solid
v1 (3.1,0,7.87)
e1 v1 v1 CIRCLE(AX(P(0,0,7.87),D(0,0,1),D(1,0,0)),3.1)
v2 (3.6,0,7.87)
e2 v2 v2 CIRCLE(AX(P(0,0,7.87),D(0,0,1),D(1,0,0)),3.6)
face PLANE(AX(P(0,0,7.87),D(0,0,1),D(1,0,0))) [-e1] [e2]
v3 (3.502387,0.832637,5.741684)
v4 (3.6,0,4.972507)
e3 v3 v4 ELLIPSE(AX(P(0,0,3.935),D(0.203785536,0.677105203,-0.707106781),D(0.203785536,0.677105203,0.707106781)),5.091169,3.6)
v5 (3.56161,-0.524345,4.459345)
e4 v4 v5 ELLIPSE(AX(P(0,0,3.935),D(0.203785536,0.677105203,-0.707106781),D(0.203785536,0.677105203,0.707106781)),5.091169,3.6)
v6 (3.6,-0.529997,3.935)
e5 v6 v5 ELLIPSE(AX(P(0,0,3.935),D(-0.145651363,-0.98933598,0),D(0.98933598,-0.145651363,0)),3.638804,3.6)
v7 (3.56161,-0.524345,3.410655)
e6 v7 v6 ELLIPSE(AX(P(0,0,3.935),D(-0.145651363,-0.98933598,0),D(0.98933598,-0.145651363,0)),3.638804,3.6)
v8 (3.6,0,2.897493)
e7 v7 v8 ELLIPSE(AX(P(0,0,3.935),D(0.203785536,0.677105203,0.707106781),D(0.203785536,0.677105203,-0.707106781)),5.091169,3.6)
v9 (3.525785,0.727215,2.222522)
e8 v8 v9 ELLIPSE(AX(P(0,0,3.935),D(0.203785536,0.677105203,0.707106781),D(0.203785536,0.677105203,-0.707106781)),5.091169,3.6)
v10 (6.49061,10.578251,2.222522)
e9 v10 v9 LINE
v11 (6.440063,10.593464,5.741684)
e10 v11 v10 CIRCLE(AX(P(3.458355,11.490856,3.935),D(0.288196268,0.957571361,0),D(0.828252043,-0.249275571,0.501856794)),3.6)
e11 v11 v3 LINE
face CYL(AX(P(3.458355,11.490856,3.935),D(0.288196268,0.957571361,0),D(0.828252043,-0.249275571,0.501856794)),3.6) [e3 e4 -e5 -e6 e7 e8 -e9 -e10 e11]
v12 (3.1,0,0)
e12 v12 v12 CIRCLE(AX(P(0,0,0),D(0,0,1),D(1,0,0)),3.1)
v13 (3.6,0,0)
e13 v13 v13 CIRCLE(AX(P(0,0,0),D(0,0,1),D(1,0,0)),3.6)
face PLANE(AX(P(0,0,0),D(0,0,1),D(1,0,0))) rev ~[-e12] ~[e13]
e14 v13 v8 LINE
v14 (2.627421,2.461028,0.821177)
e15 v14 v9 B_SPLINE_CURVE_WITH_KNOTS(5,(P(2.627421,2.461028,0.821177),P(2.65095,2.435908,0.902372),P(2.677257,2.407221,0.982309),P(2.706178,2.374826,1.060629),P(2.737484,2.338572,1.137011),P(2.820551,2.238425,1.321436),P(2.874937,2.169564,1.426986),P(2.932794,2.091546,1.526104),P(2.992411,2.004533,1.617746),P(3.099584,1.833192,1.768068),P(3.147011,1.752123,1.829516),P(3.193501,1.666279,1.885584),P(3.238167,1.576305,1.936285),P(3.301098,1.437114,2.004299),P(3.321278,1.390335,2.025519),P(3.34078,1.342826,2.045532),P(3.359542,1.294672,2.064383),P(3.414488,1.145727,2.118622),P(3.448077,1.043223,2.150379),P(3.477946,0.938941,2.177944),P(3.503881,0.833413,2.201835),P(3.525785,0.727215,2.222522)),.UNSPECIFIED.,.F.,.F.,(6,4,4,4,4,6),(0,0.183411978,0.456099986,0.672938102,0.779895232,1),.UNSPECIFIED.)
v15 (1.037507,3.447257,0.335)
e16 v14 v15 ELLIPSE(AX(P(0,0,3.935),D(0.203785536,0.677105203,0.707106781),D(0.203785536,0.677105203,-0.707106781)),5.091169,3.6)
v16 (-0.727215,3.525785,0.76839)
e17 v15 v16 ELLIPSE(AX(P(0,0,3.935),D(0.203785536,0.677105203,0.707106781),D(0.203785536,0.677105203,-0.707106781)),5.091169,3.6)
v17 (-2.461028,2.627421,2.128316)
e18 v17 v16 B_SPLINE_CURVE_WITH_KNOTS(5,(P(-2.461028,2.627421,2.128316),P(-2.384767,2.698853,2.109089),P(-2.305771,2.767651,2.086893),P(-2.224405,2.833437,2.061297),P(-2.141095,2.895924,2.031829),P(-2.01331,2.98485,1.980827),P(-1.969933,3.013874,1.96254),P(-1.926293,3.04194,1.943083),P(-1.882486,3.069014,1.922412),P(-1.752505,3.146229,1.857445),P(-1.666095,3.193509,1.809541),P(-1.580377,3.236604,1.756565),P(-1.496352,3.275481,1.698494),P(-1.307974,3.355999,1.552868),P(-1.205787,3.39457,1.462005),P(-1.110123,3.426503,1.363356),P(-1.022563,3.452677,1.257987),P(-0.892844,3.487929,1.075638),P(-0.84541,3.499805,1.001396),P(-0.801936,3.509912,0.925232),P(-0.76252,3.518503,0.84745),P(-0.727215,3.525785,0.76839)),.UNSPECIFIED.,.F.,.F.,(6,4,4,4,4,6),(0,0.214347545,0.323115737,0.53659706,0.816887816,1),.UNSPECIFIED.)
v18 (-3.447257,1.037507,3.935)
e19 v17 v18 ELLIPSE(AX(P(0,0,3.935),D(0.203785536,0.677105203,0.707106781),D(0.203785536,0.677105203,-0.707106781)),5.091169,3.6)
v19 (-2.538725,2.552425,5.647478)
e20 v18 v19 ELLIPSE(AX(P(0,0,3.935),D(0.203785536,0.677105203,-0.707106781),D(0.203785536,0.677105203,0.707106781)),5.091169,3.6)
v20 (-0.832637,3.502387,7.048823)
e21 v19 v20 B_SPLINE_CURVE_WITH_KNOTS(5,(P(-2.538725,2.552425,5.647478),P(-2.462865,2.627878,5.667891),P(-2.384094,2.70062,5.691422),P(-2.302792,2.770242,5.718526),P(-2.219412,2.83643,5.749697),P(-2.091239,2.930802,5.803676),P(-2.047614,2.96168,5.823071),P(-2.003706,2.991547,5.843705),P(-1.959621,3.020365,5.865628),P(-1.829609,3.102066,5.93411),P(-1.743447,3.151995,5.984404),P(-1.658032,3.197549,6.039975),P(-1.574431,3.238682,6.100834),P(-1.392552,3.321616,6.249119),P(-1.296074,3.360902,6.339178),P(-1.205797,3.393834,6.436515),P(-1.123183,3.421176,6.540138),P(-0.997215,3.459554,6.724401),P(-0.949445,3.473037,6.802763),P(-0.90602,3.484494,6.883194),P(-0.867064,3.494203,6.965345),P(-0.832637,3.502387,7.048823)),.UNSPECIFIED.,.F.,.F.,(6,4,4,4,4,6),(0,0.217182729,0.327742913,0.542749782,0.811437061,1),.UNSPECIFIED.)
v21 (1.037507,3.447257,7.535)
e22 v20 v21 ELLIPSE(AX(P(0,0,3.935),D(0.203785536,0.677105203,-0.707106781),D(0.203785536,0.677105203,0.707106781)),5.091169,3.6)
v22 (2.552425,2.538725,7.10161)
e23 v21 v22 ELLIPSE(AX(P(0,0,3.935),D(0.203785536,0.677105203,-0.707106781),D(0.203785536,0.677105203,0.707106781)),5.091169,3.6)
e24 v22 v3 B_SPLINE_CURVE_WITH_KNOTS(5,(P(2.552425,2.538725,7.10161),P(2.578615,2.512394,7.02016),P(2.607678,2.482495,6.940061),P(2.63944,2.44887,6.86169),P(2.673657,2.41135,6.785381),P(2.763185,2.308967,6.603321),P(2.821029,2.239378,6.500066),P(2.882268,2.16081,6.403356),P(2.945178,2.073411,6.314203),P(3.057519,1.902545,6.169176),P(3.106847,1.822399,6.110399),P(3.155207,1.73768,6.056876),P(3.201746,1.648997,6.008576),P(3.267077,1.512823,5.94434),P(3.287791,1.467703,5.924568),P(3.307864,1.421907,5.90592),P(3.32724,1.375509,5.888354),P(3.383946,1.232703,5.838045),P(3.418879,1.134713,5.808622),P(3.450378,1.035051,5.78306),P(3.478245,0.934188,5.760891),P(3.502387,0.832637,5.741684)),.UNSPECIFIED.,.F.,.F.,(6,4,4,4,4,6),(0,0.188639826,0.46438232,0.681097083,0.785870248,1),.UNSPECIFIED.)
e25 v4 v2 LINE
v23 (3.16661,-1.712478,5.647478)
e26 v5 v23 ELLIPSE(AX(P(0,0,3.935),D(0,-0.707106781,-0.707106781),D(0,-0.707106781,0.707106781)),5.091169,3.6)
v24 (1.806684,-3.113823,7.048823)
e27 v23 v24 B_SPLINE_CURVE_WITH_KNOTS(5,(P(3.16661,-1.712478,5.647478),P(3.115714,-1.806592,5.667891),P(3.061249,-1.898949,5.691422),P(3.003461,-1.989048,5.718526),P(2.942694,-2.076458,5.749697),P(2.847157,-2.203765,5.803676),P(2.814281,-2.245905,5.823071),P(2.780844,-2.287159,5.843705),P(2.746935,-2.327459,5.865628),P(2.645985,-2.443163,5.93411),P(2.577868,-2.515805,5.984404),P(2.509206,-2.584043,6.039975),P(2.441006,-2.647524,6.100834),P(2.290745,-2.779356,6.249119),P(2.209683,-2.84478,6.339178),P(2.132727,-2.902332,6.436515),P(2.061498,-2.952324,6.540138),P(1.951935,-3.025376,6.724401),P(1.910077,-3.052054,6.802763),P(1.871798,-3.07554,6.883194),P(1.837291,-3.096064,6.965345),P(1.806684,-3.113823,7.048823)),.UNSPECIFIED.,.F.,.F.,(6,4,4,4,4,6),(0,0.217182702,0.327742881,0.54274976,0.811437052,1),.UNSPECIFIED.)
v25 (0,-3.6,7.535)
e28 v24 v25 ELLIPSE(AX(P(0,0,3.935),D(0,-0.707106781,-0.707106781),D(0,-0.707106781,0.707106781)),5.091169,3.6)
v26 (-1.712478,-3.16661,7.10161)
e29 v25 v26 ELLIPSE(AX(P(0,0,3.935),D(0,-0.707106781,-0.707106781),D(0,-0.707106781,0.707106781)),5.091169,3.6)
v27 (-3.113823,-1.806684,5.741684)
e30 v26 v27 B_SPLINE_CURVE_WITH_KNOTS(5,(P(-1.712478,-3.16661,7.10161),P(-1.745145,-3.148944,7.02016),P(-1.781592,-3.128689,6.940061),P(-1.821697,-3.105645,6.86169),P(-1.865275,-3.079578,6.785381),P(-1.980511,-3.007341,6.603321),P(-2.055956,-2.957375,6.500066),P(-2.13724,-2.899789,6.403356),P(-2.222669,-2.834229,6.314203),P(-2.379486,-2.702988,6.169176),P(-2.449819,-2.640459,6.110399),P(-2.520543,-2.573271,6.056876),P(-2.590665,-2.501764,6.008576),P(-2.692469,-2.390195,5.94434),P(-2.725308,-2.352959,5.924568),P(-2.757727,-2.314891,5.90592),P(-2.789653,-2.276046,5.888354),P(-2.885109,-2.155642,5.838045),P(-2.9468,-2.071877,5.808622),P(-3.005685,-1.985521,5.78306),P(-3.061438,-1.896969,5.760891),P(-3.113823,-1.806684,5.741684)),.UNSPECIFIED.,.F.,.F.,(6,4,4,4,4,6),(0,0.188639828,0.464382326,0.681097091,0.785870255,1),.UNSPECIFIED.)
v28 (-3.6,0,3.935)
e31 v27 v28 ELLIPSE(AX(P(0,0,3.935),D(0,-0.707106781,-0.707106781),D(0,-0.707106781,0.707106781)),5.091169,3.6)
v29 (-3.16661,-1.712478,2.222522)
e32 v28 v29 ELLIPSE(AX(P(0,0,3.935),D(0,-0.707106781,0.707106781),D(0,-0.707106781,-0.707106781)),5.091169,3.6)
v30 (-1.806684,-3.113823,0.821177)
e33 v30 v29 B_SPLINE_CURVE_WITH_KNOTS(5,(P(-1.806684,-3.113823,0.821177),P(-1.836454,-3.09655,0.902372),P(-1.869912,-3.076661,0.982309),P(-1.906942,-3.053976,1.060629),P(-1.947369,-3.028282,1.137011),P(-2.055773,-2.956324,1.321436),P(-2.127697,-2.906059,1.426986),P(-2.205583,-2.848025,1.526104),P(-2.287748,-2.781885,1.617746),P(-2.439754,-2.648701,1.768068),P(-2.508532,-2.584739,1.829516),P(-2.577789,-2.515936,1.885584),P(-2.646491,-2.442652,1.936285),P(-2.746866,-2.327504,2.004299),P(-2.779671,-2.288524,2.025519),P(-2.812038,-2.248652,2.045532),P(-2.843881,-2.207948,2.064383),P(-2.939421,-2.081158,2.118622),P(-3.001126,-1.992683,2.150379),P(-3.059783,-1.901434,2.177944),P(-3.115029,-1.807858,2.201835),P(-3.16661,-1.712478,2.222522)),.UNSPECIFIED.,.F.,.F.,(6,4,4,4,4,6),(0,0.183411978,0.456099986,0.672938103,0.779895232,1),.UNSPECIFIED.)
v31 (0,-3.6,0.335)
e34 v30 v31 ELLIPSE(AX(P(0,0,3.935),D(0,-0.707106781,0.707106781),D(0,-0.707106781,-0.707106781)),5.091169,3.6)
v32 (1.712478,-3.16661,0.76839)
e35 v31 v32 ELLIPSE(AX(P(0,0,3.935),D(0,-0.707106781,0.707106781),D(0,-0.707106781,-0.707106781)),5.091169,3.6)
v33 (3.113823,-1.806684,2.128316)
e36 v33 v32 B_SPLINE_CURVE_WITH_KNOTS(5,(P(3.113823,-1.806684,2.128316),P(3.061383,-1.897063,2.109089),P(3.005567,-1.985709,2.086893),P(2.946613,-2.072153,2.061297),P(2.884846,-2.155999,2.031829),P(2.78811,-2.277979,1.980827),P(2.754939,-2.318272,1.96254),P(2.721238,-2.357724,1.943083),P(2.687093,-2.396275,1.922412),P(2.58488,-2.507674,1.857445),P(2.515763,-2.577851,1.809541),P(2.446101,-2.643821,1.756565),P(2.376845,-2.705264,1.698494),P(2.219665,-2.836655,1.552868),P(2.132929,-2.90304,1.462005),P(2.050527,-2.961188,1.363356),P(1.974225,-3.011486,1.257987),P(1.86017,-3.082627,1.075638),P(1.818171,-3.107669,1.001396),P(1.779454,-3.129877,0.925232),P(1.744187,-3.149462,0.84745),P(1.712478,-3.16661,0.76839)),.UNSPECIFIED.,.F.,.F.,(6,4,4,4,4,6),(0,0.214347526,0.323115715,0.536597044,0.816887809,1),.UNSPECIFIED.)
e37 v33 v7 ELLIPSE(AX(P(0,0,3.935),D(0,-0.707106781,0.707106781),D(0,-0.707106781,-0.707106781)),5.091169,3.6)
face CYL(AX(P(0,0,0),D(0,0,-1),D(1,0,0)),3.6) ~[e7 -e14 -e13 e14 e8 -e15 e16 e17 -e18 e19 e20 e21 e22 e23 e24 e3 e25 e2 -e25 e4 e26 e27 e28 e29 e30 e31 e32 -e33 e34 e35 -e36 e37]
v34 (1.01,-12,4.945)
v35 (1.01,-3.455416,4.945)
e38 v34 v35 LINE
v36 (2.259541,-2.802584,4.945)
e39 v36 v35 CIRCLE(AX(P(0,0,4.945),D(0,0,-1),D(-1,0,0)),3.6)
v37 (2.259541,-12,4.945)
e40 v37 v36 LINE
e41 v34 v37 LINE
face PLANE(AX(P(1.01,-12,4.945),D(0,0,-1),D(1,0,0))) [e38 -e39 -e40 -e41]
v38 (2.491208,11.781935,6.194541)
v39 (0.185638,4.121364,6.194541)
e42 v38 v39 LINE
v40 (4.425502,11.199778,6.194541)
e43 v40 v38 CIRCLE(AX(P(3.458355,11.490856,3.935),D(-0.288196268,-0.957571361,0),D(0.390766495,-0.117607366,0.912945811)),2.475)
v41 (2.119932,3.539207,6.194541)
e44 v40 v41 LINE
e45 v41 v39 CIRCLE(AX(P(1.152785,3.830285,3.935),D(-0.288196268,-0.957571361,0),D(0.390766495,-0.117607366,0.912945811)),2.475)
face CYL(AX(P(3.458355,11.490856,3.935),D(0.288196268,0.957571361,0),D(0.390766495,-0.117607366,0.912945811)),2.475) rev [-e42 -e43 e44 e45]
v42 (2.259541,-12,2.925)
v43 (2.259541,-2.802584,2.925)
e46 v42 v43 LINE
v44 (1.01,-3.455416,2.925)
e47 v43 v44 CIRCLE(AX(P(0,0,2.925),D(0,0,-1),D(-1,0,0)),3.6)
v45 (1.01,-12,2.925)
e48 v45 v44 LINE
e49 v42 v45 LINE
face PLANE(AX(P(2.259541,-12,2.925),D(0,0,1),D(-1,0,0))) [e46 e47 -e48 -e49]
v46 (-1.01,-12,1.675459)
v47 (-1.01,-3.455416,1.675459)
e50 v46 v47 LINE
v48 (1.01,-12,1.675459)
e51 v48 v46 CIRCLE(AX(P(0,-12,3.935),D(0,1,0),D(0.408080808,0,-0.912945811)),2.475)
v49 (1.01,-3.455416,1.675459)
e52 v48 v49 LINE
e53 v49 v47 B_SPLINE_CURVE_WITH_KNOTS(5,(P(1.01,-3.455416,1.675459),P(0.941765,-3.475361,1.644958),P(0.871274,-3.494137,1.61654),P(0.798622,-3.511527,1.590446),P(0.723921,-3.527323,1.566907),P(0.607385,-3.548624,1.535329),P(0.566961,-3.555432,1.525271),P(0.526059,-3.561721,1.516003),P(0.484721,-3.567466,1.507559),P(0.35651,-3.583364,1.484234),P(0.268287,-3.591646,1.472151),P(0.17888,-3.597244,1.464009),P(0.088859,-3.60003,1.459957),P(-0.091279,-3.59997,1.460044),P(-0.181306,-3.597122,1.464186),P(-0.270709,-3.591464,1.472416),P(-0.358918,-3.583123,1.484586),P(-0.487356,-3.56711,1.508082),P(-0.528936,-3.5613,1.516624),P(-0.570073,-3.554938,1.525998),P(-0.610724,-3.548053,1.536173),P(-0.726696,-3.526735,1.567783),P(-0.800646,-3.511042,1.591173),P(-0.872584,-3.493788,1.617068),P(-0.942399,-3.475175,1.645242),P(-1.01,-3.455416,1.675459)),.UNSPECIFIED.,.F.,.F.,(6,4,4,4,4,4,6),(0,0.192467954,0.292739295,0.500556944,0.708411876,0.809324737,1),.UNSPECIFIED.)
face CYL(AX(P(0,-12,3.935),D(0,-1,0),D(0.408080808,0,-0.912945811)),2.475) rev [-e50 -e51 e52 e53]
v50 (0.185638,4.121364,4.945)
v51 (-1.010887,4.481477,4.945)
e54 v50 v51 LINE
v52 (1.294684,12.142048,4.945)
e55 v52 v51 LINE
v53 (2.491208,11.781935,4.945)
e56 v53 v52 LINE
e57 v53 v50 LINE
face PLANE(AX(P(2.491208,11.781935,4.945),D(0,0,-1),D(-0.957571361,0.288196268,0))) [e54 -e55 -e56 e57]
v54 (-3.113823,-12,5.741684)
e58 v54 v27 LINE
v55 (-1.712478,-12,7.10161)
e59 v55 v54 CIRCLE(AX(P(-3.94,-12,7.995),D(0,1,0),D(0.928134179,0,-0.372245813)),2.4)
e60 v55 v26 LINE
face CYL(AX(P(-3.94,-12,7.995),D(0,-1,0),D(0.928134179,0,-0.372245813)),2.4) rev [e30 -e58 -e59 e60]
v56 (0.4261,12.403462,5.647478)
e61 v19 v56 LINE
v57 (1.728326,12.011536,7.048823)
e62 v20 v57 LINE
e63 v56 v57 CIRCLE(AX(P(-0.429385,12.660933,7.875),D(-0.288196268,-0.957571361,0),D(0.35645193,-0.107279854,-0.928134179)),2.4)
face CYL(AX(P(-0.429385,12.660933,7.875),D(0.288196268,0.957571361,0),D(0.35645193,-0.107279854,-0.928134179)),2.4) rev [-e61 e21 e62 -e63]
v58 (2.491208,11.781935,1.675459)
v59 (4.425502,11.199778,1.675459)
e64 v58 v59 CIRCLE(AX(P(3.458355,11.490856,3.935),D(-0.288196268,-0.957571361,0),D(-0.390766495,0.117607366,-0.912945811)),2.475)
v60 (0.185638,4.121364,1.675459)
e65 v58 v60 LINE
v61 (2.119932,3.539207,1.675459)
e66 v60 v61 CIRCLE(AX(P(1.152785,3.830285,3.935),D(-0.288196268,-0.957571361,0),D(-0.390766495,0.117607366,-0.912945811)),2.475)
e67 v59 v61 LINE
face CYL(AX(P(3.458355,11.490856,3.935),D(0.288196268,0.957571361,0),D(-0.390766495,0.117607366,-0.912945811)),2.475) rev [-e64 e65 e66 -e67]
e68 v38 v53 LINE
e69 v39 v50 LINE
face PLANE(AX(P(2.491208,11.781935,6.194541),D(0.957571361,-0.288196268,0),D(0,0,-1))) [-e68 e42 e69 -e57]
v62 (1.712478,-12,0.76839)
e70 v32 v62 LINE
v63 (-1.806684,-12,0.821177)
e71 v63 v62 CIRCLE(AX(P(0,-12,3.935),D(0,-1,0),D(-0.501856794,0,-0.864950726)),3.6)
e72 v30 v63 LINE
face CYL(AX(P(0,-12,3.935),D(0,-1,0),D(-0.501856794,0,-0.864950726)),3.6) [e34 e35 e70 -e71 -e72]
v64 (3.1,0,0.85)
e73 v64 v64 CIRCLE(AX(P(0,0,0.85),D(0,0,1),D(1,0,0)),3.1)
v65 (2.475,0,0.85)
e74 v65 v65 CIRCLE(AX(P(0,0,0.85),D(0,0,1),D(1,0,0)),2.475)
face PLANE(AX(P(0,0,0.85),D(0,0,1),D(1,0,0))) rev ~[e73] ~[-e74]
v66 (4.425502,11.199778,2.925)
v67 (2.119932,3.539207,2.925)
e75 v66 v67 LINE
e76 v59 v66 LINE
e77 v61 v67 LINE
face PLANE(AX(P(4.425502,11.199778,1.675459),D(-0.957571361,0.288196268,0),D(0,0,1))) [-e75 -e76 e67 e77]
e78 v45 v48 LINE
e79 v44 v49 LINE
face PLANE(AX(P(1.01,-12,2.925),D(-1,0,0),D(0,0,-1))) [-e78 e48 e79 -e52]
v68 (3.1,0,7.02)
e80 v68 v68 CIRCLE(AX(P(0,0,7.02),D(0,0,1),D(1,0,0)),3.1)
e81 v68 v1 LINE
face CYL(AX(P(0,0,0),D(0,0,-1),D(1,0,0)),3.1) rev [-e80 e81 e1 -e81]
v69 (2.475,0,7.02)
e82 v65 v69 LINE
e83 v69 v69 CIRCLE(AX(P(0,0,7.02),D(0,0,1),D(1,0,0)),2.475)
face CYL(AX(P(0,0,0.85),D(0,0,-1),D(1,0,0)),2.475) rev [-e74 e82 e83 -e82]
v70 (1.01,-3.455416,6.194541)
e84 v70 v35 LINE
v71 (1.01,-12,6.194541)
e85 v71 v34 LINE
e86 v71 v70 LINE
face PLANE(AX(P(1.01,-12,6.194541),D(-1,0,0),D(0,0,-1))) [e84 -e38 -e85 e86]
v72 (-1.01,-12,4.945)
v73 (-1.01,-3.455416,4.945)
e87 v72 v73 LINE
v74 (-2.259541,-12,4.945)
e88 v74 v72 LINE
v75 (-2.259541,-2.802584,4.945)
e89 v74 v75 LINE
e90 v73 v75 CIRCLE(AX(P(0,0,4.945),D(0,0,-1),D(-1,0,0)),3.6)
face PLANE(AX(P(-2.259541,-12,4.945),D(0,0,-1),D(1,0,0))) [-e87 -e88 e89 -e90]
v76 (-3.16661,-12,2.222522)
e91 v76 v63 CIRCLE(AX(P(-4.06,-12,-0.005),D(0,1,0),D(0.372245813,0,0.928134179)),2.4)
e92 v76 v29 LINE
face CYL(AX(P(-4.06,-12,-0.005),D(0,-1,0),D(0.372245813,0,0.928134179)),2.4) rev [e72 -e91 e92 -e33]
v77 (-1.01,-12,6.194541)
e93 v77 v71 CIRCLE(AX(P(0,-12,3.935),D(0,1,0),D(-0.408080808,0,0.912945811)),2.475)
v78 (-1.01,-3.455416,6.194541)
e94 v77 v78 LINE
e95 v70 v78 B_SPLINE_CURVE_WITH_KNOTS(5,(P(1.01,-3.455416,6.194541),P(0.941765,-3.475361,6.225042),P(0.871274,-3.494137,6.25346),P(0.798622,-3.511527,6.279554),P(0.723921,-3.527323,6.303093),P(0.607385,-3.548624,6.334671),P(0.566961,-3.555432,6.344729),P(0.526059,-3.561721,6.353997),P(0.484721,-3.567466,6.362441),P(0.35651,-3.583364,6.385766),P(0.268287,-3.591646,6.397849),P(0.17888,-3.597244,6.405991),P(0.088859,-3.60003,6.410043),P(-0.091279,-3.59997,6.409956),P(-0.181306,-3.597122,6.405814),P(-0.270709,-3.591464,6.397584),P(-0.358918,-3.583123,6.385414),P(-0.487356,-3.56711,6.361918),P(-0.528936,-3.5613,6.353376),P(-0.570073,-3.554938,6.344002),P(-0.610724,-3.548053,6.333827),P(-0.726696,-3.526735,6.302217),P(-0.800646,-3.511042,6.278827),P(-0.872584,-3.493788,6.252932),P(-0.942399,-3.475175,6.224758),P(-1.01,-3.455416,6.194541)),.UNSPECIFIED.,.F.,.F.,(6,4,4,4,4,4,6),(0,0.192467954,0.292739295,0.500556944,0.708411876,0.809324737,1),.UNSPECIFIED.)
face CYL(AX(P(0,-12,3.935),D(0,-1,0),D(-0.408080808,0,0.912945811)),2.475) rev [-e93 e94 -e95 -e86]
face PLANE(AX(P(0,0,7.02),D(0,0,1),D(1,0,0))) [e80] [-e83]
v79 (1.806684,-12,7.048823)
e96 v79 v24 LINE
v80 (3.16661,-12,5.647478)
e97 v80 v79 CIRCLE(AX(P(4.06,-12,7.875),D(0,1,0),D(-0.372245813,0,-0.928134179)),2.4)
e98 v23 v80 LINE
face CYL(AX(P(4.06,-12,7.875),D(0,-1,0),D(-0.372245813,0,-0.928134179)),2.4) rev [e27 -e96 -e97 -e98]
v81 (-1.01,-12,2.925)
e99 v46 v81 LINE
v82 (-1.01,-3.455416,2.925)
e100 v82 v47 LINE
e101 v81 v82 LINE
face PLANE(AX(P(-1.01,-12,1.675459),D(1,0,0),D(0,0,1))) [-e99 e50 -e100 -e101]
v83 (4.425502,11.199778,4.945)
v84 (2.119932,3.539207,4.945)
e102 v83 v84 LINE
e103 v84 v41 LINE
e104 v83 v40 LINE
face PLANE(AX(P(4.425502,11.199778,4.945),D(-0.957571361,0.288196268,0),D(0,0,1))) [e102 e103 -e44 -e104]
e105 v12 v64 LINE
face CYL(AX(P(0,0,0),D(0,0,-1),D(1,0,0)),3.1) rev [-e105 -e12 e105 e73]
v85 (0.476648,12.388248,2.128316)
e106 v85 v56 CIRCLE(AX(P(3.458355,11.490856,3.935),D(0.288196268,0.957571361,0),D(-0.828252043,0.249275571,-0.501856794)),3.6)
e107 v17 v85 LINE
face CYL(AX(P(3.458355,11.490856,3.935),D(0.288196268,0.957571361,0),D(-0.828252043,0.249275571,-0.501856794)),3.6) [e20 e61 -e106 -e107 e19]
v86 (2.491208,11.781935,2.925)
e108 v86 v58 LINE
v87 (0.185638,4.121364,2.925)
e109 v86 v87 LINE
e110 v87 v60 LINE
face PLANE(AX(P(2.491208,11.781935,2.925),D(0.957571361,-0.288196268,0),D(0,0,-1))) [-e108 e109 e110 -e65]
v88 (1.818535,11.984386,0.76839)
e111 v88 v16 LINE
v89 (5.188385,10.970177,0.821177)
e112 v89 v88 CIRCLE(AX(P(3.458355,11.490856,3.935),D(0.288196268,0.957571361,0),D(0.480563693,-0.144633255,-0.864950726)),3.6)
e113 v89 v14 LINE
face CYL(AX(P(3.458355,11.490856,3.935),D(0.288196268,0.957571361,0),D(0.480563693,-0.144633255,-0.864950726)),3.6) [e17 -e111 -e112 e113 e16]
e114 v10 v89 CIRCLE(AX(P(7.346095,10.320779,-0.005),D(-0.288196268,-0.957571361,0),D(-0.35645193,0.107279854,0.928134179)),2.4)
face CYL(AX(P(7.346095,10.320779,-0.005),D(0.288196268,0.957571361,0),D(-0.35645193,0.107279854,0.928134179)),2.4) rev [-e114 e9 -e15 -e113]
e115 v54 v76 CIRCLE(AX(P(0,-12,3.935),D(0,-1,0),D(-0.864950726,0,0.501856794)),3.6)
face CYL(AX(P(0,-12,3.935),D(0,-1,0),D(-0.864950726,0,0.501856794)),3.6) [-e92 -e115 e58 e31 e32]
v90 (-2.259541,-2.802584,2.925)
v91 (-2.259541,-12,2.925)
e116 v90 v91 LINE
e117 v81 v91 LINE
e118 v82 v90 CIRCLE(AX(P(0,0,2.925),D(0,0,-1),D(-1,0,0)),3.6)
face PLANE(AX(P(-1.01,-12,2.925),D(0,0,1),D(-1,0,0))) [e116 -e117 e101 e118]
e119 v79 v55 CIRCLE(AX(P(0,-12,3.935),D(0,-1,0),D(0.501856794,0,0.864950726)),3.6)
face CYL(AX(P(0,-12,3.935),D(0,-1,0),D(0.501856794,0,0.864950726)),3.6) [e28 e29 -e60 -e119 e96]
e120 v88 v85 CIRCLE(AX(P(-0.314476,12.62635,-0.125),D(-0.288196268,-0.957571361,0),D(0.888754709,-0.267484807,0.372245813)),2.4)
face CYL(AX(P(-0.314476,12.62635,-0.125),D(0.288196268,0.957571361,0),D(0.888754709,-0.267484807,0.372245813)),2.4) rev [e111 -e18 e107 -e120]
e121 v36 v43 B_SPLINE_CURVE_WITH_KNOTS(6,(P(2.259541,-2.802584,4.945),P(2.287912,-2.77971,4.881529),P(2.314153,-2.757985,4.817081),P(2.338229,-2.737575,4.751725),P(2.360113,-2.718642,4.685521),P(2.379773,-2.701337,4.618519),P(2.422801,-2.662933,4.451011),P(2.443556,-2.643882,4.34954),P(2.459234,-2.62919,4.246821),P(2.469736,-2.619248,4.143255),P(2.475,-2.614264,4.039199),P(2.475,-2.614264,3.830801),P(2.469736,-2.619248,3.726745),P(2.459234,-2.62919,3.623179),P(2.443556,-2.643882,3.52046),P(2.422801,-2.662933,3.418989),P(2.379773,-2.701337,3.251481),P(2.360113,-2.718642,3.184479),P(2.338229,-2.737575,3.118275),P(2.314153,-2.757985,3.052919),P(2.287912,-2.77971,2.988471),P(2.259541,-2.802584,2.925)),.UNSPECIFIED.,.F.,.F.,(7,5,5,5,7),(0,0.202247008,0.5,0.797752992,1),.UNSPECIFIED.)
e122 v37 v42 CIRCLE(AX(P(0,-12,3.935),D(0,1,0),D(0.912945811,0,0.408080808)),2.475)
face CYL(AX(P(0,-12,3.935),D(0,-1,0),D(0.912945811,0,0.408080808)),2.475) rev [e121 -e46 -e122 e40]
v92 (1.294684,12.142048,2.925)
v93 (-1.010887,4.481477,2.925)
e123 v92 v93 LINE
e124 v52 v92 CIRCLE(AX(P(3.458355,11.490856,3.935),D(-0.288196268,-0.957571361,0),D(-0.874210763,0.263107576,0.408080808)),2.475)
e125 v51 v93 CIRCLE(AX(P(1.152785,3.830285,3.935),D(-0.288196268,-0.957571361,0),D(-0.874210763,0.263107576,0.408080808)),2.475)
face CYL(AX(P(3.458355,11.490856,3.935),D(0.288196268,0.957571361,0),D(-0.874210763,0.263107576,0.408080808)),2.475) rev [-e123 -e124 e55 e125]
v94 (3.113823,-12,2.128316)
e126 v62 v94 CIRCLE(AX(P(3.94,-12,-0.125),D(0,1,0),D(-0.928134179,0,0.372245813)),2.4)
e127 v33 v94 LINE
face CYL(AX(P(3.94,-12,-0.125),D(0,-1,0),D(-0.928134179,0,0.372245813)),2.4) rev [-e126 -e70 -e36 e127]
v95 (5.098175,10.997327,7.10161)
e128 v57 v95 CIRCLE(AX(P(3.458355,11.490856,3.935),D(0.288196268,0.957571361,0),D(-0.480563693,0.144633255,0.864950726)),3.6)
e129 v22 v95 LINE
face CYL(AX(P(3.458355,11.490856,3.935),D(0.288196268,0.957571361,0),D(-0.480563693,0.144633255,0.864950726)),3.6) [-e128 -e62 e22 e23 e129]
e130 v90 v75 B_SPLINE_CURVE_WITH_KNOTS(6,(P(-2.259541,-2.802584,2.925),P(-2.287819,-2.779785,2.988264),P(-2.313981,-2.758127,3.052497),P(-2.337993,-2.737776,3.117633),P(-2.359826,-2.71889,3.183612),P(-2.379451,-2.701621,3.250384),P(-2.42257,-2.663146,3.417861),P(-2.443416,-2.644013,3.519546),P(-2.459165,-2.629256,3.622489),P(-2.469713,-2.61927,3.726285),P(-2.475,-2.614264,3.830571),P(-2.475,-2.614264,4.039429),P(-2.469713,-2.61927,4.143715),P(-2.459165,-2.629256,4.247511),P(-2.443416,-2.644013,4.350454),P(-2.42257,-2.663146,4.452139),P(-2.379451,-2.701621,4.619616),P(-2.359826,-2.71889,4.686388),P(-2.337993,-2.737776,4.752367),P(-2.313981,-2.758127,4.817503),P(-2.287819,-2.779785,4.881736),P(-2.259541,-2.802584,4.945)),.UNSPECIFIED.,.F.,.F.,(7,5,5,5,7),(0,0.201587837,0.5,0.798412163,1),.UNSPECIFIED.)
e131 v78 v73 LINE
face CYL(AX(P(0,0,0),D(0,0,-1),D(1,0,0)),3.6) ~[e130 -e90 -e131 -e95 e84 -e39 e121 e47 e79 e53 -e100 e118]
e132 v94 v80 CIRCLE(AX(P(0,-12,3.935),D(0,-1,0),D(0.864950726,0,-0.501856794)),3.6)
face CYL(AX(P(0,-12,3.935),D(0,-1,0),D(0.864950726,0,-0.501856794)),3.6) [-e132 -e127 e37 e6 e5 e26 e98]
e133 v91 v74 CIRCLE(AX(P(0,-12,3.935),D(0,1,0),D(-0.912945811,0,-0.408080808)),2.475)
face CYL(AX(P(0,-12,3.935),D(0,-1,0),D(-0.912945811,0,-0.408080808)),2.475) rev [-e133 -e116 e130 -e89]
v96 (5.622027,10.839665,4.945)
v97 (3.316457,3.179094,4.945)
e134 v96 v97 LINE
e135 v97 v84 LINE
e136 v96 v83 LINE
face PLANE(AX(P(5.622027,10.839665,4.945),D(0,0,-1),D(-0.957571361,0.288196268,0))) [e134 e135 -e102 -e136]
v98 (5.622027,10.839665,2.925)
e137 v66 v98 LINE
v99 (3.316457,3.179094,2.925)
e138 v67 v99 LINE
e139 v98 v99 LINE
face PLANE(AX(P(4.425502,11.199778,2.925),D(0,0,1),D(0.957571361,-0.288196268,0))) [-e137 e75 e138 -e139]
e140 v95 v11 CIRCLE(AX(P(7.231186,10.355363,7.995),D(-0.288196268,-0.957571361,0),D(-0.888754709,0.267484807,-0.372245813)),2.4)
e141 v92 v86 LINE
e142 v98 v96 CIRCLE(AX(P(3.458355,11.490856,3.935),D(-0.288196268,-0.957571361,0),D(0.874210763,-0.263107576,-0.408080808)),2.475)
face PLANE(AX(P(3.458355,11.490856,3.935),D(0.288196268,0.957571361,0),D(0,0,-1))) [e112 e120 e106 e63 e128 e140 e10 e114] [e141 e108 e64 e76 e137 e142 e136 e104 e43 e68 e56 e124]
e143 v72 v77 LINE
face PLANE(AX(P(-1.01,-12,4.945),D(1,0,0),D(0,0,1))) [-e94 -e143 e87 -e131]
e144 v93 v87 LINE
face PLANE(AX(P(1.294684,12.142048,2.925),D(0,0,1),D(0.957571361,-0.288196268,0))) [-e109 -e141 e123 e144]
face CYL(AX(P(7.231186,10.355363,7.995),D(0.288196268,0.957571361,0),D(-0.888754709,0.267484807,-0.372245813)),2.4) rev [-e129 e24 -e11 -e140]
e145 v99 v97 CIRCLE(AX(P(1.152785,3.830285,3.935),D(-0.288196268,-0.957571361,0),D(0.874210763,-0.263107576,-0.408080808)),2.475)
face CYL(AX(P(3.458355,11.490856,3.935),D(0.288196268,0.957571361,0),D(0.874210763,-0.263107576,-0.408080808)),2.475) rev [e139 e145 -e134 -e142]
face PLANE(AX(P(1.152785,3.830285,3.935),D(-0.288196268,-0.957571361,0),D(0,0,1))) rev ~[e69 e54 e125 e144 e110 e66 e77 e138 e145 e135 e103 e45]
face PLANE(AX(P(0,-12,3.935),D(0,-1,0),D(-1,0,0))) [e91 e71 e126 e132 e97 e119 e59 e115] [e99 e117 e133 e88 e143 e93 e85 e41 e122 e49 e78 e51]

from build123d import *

# Parameters (mm, degrees)
CROQUIS1_R                   = 3.6
CROQUIS1_R_2                 = 3.1
SALIENTE_EXTRUIR1_DEPTH      = 7.87
SALIENTE_EXTRUIR2_START      = 0.85
CROQUIS1_3_R                 = 3.1
CROQUIS1_3_R_2               = 2.475
SALIENTE_EXTRUIR2_DEPTH      = 6.17
SALIENTE_EXTRUIR3_REACH      = 13.518
SALIENTE_EXTRUIR3_END_RADIUS = 3.6
SALIENTE_EXTRUIR4_START      = -8
SALIENTE_EXTRUIR4_DEPTH      = 8
SALIENTE_EXTRUIR5_REACH      = 20.306
SALIENTE_EXTRUIR5_END_RADIUS = 3.6
SALIENTE_EXTRUIR6_START      = -8
SALIENTE_EXTRUIR6_DEPTH      = 8


with BuildPart() as part:
    # Croquis1 → Saliente-Extruir1 (new body)
    with BuildSketch(Plane.XY):
        Circle(CROQUIS1_R)
        Circle(CROQUIS1_R_2, mode=Mode.SUBTRACT)
    extrude(amount=SALIENTE_EXTRUIR1_DEPTH)

    # Croquis1<3> → Saliente-Extruir2 (add)
    with BuildSketch(Plane.XY.offset(SALIENTE_EXTRUIR2_START)):
        Circle(CROQUIS1_3_R)
        Circle(CROQUIS1_3_R_2, mode=Mode.SUBTRACT)
    extrude(amount=SALIENTE_EXTRUIR2_DEPTH)

    # Saliente-Extruir3: up to this cylinder (the profile starts outside it)
    saliente_extruir3_end = Plane(origin=(0, 0, 6.19961), z_dir=(0, 0, -1)) * Cylinder(SALIENTE_EXTRUIR3_END_RADIUS, 35.236000000000004, mode=Mode.PRIVATE)
    # Croquis2 → Saliente-Extruir3 (add, up to the surface)
    with BuildSketch(Plane(origin=(0, -4, 0), x_dir=(1, 0, 0), z_dir=(0, 1, 0)), mode=Mode.PRIVATE) as saliente_extruir3_sk1:
        with BuildLine():
            ThreePointArc((-1.7124779696357202, -7.101610049171246), (0.05399392602494436, -7.534595068330939), (1.806684459564255, -7.048822612733265))
            ThreePointArc((1.806684459564255, -7.048822612733265), (2.337681630948243, -6.203587592595142), (3.1666100491712275, -5.647477969635754))
            ThreePointArc((3.1666100491712275, -5.647477969635754), (3.599595068330938, -3.881006073975069), (3.1138226127332604, -2.1283155404357355))
            ThreePointArc((3.1138226127332604, -2.1283155404357355), (2.268587592595135, -1.597318369051751), (1.7124779696357444, -0.7683899508287686))
            ThreePointArc((1.7124779696357444, -0.7683899508287686), (-0.0539939260249431, -0.3354049316690628), (-1.806684459564274, -0.8211773872667488))
            ThreePointArc((-1.806684459564274, -0.8211773872667488), (-2.337681630948256, -1.6664124074048765), (-3.166610049171237, -2.22252203036427))
            ThreePointArc((-3.166610049171237, -2.22252203036427), (-3.599595068330935, -3.9889939260249565), (-3.1138226127332462, -5.741684459564288))
            ThreePointArc((-3.1138226127332462, -5.741684459564288), (-2.268587592595116, -6.272681630948267), (-1.7124779696357202, -7.101610049171246))
        make_face()
        with BuildLine():
            Line((-1.01, -6.194540882568846), (-1.01, -4.944999999999999))
            Line((-1.01, -4.944999999999999), (-2.2595408825688463, -4.944999999999999))
            ThreePointArc((-2.2595408825688463, -4.944999999999999), (-2.475, -3.9349999999999996), (-2.2595408825688463, -2.9250000000000007))
            Line((-2.2595408825688463, -2.9250000000000007), (-1.01, -2.9250000000000007))
            Line((-1.01, -2.9250000000000007), (-1.01, -1.675459117431154))
            ThreePointArc((-1.01, -1.675459117431154), (1.5e-16, -1.4600000000000004), (1.01, -1.675459117431154))
            Line((1.01, -1.675459117431154), (1.01, -2.9250000000000007))
            Line((1.01, -2.9250000000000007), (2.2595408825688463, -2.9250000000000007))
            ThreePointArc((2.2595408825688463, -2.9250000000000007), (2.475, -3.935), (2.2595408825688463, -4.944999999999999))
            Line((2.2595408825688463, -4.944999999999999), (1.01, -4.944999999999999))
            Line((1.01, -4.944999999999999), (1.01, -6.194540882568846))
            ThreePointArc((1.01, -6.194540882568846), (1.5e-16, -6.41), (-1.01, -6.194540882568846))
        make_face(mode=Mode.SUBTRACT)
    saliente_extruir3_tool1 = extrude(saliente_extruir3_sk1.sketch, amount=SALIENTE_EXTRUIR3_REACH, mode=Mode.PRIVATE) - saliente_extruir3_end
    add(saliente_extruir3_tool1.solids().sort_by_distance((-2.197676, -4, 6.19961))[0])

    # Croquis2<3> → Saliente-Extruir4 (add)
    with BuildSketch(Plane(origin=(0, -4, 0), x_dir=(1, 0, 0), z_dir=(0, 1, 0)).offset(SALIENTE_EXTRUIR4_START)):
        with BuildLine():
            ThreePointArc((-3.166610049171237, -2.22252203036427), (-2.337681630948256, -1.6664124074048765), (-1.806684459564274, -0.8211773872667488))
            ThreePointArc((-1.806684459564274, -0.8211773872667488), (-0.0539939260249431, -0.3354049316690628), (1.7124779696357444, -0.7683899508287686))
            ThreePointArc((1.7124779696357444, -0.7683899508287686), (2.268587592595135, -1.597318369051751), (3.1138226127332604, -2.1283155404357355))
            ThreePointArc((3.1138226127332604, -2.1283155404357355), (3.599595068330938, -3.881006073975069), (3.1666100491712275, -5.647477969635754))
            ThreePointArc((3.1666100491712275, -5.647477969635754), (2.337681630948243, -6.203587592595142), (1.806684459564255, -7.048822612733265))
            ThreePointArc((1.806684459564255, -7.048822612733265), (0.05399392602494436, -7.534595068330939), (-1.7124779696357202, -7.101610049171246))
            ThreePointArc((-1.7124779696357202, -7.101610049171246), (-2.268587592595116, -6.272681630948267), (-3.1138226127332462, -5.741684459564288))
            ThreePointArc((-3.1138226127332462, -5.741684459564288), (-3.599595068330935, -3.9889939260249565), (-3.166610049171237, -2.22252203036427))
        make_face()
        with BuildLine():
            ThreePointArc((-2.2595408825688463, -2.9250000000000007), (-2.475, -3.9349999999999996), (-2.2595408825688463, -4.944999999999999))
            Line((-2.2595408825688463, -4.944999999999999), (-1.01, -4.944999999999999))
            Line((-1.01, -4.944999999999999), (-1.01, -6.194540882568846))
            ThreePointArc((-1.01, -6.194540882568846), (1.5e-16, -6.41), (1.01, -6.194540882568846))
            Line((1.01, -6.194540882568846), (1.01, -4.944999999999999))
            Line((1.01, -4.944999999999999), (2.2595408825688463, -4.944999999999999))
            ThreePointArc((2.2595408825688463, -4.944999999999999), (2.475, -3.935), (2.2595408825688463, -2.9250000000000007))
            Line((2.2595408825688463, -2.9250000000000007), (1.01, -2.9250000000000007))
            Line((1.01, -2.9250000000000007), (1.01, -1.675459117431154))
            ThreePointArc((1.01, -1.675459117431154), (1.5e-16, -1.4600000000000004), (-1.01, -1.675459117431154))
            Line((-1.01, -1.675459117431154), (-1.01, -2.9250000000000007))
            Line((-1.01, -2.9250000000000007), (-2.2595408825688463, -2.9250000000000007))
        make_face(mode=Mode.SUBTRACT)
    extrude(amount=SALIENTE_EXTRUIR4_DEPTH)

    # Saliente-Extruir5: up to this cylinder (the profile starts outside it)
    saliente_extruir5_end = Plane(origin=(0, 0, 3.935), z_dir=(0, 0, -1)) * Cylinder(SALIENTE_EXTRUIR5_END_RADIUS, 48.812000000000005, mode=Mode.PRIVATE)
    # Croquis7 → Saliente-Extruir5 (add, up to the surface)
    with BuildSketch(Plane(origin=(1.152785072536334, 3.830285443219265, 0), x_dir=(0, 0, 1), z_dir=(-0.2881962681340835, -0.9575713608048162, 0)), mode=Mode.PRIVATE) as saliente_extruir5_sk1:
        with BuildLine():
            ThreePointArc((2.222522030364279, -3.1666100491712452), (3.9889939260249445, -3.5995950683309377), (5.741684459564254, -3.113822612733264))
            ThreePointArc((5.741684459564254, -3.113822612733264), (6.272681630948287, -2.2685875925951686), (7.101610049171227, -1.7124779696357533))
            ThreePointArc((7.101610049171227, -1.7124779696357533), (7.534595068330938, 0.0539939260249318), (7.048822612733259, 1.8066844595642648))
            ThreePointArc((7.048822612733259, 1.8066844595642648), (6.203587592595132, 2.337681630948248), (5.647477969635745, 3.1666100491712332))
            ThreePointArc((5.647477969635745, 3.1666100491712332), (3.881006073975058, 3.599595068330939), (2.1283155404357252, 3.113822612733254))
            ThreePointArc((2.1283155404357252, 3.113822612733254), (1.5973183690517558, 2.268587592595114), (0.7683899508287607, 1.7124779696357326))
            ThreePointArc((0.7683899508287607, 1.7124779696357326), (0.33540493166906193, -0.05399392602495561), (0.8211773872667536, -1.8066844595642866))
            ThreePointArc((0.8211773872667536, -1.8066844595642866), (1.6664124074048823, -2.337681630948267), (2.222522030364279, -3.1666100491712452))
        make_face()
    saliente_extruir5_tool1 = extrude(saliente_extruir5_sk1.sketch, amount=SALIENTE_EXTRUIR5_REACH, mode=Mode.PRIVATE) - saliente_extruir5_end
    add(saliente_extruir5_tool1.solids().sort_by_distance((1.152785, 3.830285, 3.935))[0])

    # Croquis7<3> → Saliente-Extruir6 (add)
    with BuildSketch(Plane(origin=(1.152785072536334, 3.830285443219265, 0), x_dir=(0, 0, 1), z_dir=(-0.2881962681340835, -0.9575713608048162, 0)).offset(SALIENTE_EXTRUIR6_START)):
        with BuildLine():
            ThreePointArc((0.7683899508287607, 1.7124779696357326), (1.5973183690517558, 2.268587592595114), (2.1283155404357252, 3.113822612733254))
            ThreePointArc((2.1283155404357252, 3.113822612733254), (3.881006073975058, 3.599595068330939), (5.647477969635745, 3.1666100491712332))
            ThreePointArc((5.647477969635745, 3.1666100491712332), (6.203587592595132, 2.337681630948248), (7.048822612733259, 1.8066844595642648))
            ThreePointArc((7.048822612733259, 1.8066844595642648), (7.534595068330938, 0.0539939260249318), (7.101610049171227, -1.7124779696357533))
            ThreePointArc((7.101610049171227, -1.7124779696357533), (6.272681630948287, -2.2685875925951686), (5.741684459564254, -3.113822612733264))
            ThreePointArc((5.741684459564254, -3.113822612733264), (3.9889939260249445, -3.5995950683309377), (2.222522030364279, -3.1666100491712452))
            ThreePointArc((2.222522030364279, -3.1666100491712452), (1.6664124074048823, -2.337681630948267), (0.8211773872667536, -1.8066844595642866))
            ThreePointArc((0.8211773872667536, -1.8066844595642866), (0.33540493166906193, -0.05399392602495561), (0.7683899508287607, 1.7124779696357326))
        make_face()
        with BuildLine():
            ThreePointArc((1.675459117431154, 1.010000000000001), (1.4600000000000004, 1.17e-15), (1.675459117431154, -1.0099999999999991))
            Line((1.675459117431154, -1.0099999999999991), (2.925, -1.0099999999999991))
            Line((2.925, -1.0099999999999991), (2.925, -2.2595408825688454))
            ThreePointArc((2.925, -2.2595408825688454), (3.934999999999999, -2.474999999999999), (4.944999999999999, -2.259540882568846))
            Line((4.944999999999999, -2.259540882568846), (4.944999999999999, -1.009999999999999))
            Line((4.944999999999999, -1.009999999999999), (6.194540882568846, -1.0099999999999987))
            ThreePointArc((6.194540882568846, -1.0099999999999987), (6.41, 1e-15), (6.194540882568846, 1.010000000000001))
            Line((6.194540882568846, 1.010000000000001), (4.944999999999999, 1.010000000000001))
            Line((4.944999999999999, 1.010000000000001), (4.944999999999999, 2.259540882568847))
            ThreePointArc((4.944999999999999, 2.259540882568847), (3.9349999999999996, 2.475000000000001), (2.925, 2.2595408825688468))
            Line((2.925, 2.2595408825688468), (2.925, 1.010000000000001))
            Line((2.925, 1.010000000000001), (1.675459117431154, 1.010000000000001))
        make_face(mode=Mode.SUBTRACT)
    extrude(amount=SALIENTE_EXTRUIR6_DEPTH)


solid = part.part
